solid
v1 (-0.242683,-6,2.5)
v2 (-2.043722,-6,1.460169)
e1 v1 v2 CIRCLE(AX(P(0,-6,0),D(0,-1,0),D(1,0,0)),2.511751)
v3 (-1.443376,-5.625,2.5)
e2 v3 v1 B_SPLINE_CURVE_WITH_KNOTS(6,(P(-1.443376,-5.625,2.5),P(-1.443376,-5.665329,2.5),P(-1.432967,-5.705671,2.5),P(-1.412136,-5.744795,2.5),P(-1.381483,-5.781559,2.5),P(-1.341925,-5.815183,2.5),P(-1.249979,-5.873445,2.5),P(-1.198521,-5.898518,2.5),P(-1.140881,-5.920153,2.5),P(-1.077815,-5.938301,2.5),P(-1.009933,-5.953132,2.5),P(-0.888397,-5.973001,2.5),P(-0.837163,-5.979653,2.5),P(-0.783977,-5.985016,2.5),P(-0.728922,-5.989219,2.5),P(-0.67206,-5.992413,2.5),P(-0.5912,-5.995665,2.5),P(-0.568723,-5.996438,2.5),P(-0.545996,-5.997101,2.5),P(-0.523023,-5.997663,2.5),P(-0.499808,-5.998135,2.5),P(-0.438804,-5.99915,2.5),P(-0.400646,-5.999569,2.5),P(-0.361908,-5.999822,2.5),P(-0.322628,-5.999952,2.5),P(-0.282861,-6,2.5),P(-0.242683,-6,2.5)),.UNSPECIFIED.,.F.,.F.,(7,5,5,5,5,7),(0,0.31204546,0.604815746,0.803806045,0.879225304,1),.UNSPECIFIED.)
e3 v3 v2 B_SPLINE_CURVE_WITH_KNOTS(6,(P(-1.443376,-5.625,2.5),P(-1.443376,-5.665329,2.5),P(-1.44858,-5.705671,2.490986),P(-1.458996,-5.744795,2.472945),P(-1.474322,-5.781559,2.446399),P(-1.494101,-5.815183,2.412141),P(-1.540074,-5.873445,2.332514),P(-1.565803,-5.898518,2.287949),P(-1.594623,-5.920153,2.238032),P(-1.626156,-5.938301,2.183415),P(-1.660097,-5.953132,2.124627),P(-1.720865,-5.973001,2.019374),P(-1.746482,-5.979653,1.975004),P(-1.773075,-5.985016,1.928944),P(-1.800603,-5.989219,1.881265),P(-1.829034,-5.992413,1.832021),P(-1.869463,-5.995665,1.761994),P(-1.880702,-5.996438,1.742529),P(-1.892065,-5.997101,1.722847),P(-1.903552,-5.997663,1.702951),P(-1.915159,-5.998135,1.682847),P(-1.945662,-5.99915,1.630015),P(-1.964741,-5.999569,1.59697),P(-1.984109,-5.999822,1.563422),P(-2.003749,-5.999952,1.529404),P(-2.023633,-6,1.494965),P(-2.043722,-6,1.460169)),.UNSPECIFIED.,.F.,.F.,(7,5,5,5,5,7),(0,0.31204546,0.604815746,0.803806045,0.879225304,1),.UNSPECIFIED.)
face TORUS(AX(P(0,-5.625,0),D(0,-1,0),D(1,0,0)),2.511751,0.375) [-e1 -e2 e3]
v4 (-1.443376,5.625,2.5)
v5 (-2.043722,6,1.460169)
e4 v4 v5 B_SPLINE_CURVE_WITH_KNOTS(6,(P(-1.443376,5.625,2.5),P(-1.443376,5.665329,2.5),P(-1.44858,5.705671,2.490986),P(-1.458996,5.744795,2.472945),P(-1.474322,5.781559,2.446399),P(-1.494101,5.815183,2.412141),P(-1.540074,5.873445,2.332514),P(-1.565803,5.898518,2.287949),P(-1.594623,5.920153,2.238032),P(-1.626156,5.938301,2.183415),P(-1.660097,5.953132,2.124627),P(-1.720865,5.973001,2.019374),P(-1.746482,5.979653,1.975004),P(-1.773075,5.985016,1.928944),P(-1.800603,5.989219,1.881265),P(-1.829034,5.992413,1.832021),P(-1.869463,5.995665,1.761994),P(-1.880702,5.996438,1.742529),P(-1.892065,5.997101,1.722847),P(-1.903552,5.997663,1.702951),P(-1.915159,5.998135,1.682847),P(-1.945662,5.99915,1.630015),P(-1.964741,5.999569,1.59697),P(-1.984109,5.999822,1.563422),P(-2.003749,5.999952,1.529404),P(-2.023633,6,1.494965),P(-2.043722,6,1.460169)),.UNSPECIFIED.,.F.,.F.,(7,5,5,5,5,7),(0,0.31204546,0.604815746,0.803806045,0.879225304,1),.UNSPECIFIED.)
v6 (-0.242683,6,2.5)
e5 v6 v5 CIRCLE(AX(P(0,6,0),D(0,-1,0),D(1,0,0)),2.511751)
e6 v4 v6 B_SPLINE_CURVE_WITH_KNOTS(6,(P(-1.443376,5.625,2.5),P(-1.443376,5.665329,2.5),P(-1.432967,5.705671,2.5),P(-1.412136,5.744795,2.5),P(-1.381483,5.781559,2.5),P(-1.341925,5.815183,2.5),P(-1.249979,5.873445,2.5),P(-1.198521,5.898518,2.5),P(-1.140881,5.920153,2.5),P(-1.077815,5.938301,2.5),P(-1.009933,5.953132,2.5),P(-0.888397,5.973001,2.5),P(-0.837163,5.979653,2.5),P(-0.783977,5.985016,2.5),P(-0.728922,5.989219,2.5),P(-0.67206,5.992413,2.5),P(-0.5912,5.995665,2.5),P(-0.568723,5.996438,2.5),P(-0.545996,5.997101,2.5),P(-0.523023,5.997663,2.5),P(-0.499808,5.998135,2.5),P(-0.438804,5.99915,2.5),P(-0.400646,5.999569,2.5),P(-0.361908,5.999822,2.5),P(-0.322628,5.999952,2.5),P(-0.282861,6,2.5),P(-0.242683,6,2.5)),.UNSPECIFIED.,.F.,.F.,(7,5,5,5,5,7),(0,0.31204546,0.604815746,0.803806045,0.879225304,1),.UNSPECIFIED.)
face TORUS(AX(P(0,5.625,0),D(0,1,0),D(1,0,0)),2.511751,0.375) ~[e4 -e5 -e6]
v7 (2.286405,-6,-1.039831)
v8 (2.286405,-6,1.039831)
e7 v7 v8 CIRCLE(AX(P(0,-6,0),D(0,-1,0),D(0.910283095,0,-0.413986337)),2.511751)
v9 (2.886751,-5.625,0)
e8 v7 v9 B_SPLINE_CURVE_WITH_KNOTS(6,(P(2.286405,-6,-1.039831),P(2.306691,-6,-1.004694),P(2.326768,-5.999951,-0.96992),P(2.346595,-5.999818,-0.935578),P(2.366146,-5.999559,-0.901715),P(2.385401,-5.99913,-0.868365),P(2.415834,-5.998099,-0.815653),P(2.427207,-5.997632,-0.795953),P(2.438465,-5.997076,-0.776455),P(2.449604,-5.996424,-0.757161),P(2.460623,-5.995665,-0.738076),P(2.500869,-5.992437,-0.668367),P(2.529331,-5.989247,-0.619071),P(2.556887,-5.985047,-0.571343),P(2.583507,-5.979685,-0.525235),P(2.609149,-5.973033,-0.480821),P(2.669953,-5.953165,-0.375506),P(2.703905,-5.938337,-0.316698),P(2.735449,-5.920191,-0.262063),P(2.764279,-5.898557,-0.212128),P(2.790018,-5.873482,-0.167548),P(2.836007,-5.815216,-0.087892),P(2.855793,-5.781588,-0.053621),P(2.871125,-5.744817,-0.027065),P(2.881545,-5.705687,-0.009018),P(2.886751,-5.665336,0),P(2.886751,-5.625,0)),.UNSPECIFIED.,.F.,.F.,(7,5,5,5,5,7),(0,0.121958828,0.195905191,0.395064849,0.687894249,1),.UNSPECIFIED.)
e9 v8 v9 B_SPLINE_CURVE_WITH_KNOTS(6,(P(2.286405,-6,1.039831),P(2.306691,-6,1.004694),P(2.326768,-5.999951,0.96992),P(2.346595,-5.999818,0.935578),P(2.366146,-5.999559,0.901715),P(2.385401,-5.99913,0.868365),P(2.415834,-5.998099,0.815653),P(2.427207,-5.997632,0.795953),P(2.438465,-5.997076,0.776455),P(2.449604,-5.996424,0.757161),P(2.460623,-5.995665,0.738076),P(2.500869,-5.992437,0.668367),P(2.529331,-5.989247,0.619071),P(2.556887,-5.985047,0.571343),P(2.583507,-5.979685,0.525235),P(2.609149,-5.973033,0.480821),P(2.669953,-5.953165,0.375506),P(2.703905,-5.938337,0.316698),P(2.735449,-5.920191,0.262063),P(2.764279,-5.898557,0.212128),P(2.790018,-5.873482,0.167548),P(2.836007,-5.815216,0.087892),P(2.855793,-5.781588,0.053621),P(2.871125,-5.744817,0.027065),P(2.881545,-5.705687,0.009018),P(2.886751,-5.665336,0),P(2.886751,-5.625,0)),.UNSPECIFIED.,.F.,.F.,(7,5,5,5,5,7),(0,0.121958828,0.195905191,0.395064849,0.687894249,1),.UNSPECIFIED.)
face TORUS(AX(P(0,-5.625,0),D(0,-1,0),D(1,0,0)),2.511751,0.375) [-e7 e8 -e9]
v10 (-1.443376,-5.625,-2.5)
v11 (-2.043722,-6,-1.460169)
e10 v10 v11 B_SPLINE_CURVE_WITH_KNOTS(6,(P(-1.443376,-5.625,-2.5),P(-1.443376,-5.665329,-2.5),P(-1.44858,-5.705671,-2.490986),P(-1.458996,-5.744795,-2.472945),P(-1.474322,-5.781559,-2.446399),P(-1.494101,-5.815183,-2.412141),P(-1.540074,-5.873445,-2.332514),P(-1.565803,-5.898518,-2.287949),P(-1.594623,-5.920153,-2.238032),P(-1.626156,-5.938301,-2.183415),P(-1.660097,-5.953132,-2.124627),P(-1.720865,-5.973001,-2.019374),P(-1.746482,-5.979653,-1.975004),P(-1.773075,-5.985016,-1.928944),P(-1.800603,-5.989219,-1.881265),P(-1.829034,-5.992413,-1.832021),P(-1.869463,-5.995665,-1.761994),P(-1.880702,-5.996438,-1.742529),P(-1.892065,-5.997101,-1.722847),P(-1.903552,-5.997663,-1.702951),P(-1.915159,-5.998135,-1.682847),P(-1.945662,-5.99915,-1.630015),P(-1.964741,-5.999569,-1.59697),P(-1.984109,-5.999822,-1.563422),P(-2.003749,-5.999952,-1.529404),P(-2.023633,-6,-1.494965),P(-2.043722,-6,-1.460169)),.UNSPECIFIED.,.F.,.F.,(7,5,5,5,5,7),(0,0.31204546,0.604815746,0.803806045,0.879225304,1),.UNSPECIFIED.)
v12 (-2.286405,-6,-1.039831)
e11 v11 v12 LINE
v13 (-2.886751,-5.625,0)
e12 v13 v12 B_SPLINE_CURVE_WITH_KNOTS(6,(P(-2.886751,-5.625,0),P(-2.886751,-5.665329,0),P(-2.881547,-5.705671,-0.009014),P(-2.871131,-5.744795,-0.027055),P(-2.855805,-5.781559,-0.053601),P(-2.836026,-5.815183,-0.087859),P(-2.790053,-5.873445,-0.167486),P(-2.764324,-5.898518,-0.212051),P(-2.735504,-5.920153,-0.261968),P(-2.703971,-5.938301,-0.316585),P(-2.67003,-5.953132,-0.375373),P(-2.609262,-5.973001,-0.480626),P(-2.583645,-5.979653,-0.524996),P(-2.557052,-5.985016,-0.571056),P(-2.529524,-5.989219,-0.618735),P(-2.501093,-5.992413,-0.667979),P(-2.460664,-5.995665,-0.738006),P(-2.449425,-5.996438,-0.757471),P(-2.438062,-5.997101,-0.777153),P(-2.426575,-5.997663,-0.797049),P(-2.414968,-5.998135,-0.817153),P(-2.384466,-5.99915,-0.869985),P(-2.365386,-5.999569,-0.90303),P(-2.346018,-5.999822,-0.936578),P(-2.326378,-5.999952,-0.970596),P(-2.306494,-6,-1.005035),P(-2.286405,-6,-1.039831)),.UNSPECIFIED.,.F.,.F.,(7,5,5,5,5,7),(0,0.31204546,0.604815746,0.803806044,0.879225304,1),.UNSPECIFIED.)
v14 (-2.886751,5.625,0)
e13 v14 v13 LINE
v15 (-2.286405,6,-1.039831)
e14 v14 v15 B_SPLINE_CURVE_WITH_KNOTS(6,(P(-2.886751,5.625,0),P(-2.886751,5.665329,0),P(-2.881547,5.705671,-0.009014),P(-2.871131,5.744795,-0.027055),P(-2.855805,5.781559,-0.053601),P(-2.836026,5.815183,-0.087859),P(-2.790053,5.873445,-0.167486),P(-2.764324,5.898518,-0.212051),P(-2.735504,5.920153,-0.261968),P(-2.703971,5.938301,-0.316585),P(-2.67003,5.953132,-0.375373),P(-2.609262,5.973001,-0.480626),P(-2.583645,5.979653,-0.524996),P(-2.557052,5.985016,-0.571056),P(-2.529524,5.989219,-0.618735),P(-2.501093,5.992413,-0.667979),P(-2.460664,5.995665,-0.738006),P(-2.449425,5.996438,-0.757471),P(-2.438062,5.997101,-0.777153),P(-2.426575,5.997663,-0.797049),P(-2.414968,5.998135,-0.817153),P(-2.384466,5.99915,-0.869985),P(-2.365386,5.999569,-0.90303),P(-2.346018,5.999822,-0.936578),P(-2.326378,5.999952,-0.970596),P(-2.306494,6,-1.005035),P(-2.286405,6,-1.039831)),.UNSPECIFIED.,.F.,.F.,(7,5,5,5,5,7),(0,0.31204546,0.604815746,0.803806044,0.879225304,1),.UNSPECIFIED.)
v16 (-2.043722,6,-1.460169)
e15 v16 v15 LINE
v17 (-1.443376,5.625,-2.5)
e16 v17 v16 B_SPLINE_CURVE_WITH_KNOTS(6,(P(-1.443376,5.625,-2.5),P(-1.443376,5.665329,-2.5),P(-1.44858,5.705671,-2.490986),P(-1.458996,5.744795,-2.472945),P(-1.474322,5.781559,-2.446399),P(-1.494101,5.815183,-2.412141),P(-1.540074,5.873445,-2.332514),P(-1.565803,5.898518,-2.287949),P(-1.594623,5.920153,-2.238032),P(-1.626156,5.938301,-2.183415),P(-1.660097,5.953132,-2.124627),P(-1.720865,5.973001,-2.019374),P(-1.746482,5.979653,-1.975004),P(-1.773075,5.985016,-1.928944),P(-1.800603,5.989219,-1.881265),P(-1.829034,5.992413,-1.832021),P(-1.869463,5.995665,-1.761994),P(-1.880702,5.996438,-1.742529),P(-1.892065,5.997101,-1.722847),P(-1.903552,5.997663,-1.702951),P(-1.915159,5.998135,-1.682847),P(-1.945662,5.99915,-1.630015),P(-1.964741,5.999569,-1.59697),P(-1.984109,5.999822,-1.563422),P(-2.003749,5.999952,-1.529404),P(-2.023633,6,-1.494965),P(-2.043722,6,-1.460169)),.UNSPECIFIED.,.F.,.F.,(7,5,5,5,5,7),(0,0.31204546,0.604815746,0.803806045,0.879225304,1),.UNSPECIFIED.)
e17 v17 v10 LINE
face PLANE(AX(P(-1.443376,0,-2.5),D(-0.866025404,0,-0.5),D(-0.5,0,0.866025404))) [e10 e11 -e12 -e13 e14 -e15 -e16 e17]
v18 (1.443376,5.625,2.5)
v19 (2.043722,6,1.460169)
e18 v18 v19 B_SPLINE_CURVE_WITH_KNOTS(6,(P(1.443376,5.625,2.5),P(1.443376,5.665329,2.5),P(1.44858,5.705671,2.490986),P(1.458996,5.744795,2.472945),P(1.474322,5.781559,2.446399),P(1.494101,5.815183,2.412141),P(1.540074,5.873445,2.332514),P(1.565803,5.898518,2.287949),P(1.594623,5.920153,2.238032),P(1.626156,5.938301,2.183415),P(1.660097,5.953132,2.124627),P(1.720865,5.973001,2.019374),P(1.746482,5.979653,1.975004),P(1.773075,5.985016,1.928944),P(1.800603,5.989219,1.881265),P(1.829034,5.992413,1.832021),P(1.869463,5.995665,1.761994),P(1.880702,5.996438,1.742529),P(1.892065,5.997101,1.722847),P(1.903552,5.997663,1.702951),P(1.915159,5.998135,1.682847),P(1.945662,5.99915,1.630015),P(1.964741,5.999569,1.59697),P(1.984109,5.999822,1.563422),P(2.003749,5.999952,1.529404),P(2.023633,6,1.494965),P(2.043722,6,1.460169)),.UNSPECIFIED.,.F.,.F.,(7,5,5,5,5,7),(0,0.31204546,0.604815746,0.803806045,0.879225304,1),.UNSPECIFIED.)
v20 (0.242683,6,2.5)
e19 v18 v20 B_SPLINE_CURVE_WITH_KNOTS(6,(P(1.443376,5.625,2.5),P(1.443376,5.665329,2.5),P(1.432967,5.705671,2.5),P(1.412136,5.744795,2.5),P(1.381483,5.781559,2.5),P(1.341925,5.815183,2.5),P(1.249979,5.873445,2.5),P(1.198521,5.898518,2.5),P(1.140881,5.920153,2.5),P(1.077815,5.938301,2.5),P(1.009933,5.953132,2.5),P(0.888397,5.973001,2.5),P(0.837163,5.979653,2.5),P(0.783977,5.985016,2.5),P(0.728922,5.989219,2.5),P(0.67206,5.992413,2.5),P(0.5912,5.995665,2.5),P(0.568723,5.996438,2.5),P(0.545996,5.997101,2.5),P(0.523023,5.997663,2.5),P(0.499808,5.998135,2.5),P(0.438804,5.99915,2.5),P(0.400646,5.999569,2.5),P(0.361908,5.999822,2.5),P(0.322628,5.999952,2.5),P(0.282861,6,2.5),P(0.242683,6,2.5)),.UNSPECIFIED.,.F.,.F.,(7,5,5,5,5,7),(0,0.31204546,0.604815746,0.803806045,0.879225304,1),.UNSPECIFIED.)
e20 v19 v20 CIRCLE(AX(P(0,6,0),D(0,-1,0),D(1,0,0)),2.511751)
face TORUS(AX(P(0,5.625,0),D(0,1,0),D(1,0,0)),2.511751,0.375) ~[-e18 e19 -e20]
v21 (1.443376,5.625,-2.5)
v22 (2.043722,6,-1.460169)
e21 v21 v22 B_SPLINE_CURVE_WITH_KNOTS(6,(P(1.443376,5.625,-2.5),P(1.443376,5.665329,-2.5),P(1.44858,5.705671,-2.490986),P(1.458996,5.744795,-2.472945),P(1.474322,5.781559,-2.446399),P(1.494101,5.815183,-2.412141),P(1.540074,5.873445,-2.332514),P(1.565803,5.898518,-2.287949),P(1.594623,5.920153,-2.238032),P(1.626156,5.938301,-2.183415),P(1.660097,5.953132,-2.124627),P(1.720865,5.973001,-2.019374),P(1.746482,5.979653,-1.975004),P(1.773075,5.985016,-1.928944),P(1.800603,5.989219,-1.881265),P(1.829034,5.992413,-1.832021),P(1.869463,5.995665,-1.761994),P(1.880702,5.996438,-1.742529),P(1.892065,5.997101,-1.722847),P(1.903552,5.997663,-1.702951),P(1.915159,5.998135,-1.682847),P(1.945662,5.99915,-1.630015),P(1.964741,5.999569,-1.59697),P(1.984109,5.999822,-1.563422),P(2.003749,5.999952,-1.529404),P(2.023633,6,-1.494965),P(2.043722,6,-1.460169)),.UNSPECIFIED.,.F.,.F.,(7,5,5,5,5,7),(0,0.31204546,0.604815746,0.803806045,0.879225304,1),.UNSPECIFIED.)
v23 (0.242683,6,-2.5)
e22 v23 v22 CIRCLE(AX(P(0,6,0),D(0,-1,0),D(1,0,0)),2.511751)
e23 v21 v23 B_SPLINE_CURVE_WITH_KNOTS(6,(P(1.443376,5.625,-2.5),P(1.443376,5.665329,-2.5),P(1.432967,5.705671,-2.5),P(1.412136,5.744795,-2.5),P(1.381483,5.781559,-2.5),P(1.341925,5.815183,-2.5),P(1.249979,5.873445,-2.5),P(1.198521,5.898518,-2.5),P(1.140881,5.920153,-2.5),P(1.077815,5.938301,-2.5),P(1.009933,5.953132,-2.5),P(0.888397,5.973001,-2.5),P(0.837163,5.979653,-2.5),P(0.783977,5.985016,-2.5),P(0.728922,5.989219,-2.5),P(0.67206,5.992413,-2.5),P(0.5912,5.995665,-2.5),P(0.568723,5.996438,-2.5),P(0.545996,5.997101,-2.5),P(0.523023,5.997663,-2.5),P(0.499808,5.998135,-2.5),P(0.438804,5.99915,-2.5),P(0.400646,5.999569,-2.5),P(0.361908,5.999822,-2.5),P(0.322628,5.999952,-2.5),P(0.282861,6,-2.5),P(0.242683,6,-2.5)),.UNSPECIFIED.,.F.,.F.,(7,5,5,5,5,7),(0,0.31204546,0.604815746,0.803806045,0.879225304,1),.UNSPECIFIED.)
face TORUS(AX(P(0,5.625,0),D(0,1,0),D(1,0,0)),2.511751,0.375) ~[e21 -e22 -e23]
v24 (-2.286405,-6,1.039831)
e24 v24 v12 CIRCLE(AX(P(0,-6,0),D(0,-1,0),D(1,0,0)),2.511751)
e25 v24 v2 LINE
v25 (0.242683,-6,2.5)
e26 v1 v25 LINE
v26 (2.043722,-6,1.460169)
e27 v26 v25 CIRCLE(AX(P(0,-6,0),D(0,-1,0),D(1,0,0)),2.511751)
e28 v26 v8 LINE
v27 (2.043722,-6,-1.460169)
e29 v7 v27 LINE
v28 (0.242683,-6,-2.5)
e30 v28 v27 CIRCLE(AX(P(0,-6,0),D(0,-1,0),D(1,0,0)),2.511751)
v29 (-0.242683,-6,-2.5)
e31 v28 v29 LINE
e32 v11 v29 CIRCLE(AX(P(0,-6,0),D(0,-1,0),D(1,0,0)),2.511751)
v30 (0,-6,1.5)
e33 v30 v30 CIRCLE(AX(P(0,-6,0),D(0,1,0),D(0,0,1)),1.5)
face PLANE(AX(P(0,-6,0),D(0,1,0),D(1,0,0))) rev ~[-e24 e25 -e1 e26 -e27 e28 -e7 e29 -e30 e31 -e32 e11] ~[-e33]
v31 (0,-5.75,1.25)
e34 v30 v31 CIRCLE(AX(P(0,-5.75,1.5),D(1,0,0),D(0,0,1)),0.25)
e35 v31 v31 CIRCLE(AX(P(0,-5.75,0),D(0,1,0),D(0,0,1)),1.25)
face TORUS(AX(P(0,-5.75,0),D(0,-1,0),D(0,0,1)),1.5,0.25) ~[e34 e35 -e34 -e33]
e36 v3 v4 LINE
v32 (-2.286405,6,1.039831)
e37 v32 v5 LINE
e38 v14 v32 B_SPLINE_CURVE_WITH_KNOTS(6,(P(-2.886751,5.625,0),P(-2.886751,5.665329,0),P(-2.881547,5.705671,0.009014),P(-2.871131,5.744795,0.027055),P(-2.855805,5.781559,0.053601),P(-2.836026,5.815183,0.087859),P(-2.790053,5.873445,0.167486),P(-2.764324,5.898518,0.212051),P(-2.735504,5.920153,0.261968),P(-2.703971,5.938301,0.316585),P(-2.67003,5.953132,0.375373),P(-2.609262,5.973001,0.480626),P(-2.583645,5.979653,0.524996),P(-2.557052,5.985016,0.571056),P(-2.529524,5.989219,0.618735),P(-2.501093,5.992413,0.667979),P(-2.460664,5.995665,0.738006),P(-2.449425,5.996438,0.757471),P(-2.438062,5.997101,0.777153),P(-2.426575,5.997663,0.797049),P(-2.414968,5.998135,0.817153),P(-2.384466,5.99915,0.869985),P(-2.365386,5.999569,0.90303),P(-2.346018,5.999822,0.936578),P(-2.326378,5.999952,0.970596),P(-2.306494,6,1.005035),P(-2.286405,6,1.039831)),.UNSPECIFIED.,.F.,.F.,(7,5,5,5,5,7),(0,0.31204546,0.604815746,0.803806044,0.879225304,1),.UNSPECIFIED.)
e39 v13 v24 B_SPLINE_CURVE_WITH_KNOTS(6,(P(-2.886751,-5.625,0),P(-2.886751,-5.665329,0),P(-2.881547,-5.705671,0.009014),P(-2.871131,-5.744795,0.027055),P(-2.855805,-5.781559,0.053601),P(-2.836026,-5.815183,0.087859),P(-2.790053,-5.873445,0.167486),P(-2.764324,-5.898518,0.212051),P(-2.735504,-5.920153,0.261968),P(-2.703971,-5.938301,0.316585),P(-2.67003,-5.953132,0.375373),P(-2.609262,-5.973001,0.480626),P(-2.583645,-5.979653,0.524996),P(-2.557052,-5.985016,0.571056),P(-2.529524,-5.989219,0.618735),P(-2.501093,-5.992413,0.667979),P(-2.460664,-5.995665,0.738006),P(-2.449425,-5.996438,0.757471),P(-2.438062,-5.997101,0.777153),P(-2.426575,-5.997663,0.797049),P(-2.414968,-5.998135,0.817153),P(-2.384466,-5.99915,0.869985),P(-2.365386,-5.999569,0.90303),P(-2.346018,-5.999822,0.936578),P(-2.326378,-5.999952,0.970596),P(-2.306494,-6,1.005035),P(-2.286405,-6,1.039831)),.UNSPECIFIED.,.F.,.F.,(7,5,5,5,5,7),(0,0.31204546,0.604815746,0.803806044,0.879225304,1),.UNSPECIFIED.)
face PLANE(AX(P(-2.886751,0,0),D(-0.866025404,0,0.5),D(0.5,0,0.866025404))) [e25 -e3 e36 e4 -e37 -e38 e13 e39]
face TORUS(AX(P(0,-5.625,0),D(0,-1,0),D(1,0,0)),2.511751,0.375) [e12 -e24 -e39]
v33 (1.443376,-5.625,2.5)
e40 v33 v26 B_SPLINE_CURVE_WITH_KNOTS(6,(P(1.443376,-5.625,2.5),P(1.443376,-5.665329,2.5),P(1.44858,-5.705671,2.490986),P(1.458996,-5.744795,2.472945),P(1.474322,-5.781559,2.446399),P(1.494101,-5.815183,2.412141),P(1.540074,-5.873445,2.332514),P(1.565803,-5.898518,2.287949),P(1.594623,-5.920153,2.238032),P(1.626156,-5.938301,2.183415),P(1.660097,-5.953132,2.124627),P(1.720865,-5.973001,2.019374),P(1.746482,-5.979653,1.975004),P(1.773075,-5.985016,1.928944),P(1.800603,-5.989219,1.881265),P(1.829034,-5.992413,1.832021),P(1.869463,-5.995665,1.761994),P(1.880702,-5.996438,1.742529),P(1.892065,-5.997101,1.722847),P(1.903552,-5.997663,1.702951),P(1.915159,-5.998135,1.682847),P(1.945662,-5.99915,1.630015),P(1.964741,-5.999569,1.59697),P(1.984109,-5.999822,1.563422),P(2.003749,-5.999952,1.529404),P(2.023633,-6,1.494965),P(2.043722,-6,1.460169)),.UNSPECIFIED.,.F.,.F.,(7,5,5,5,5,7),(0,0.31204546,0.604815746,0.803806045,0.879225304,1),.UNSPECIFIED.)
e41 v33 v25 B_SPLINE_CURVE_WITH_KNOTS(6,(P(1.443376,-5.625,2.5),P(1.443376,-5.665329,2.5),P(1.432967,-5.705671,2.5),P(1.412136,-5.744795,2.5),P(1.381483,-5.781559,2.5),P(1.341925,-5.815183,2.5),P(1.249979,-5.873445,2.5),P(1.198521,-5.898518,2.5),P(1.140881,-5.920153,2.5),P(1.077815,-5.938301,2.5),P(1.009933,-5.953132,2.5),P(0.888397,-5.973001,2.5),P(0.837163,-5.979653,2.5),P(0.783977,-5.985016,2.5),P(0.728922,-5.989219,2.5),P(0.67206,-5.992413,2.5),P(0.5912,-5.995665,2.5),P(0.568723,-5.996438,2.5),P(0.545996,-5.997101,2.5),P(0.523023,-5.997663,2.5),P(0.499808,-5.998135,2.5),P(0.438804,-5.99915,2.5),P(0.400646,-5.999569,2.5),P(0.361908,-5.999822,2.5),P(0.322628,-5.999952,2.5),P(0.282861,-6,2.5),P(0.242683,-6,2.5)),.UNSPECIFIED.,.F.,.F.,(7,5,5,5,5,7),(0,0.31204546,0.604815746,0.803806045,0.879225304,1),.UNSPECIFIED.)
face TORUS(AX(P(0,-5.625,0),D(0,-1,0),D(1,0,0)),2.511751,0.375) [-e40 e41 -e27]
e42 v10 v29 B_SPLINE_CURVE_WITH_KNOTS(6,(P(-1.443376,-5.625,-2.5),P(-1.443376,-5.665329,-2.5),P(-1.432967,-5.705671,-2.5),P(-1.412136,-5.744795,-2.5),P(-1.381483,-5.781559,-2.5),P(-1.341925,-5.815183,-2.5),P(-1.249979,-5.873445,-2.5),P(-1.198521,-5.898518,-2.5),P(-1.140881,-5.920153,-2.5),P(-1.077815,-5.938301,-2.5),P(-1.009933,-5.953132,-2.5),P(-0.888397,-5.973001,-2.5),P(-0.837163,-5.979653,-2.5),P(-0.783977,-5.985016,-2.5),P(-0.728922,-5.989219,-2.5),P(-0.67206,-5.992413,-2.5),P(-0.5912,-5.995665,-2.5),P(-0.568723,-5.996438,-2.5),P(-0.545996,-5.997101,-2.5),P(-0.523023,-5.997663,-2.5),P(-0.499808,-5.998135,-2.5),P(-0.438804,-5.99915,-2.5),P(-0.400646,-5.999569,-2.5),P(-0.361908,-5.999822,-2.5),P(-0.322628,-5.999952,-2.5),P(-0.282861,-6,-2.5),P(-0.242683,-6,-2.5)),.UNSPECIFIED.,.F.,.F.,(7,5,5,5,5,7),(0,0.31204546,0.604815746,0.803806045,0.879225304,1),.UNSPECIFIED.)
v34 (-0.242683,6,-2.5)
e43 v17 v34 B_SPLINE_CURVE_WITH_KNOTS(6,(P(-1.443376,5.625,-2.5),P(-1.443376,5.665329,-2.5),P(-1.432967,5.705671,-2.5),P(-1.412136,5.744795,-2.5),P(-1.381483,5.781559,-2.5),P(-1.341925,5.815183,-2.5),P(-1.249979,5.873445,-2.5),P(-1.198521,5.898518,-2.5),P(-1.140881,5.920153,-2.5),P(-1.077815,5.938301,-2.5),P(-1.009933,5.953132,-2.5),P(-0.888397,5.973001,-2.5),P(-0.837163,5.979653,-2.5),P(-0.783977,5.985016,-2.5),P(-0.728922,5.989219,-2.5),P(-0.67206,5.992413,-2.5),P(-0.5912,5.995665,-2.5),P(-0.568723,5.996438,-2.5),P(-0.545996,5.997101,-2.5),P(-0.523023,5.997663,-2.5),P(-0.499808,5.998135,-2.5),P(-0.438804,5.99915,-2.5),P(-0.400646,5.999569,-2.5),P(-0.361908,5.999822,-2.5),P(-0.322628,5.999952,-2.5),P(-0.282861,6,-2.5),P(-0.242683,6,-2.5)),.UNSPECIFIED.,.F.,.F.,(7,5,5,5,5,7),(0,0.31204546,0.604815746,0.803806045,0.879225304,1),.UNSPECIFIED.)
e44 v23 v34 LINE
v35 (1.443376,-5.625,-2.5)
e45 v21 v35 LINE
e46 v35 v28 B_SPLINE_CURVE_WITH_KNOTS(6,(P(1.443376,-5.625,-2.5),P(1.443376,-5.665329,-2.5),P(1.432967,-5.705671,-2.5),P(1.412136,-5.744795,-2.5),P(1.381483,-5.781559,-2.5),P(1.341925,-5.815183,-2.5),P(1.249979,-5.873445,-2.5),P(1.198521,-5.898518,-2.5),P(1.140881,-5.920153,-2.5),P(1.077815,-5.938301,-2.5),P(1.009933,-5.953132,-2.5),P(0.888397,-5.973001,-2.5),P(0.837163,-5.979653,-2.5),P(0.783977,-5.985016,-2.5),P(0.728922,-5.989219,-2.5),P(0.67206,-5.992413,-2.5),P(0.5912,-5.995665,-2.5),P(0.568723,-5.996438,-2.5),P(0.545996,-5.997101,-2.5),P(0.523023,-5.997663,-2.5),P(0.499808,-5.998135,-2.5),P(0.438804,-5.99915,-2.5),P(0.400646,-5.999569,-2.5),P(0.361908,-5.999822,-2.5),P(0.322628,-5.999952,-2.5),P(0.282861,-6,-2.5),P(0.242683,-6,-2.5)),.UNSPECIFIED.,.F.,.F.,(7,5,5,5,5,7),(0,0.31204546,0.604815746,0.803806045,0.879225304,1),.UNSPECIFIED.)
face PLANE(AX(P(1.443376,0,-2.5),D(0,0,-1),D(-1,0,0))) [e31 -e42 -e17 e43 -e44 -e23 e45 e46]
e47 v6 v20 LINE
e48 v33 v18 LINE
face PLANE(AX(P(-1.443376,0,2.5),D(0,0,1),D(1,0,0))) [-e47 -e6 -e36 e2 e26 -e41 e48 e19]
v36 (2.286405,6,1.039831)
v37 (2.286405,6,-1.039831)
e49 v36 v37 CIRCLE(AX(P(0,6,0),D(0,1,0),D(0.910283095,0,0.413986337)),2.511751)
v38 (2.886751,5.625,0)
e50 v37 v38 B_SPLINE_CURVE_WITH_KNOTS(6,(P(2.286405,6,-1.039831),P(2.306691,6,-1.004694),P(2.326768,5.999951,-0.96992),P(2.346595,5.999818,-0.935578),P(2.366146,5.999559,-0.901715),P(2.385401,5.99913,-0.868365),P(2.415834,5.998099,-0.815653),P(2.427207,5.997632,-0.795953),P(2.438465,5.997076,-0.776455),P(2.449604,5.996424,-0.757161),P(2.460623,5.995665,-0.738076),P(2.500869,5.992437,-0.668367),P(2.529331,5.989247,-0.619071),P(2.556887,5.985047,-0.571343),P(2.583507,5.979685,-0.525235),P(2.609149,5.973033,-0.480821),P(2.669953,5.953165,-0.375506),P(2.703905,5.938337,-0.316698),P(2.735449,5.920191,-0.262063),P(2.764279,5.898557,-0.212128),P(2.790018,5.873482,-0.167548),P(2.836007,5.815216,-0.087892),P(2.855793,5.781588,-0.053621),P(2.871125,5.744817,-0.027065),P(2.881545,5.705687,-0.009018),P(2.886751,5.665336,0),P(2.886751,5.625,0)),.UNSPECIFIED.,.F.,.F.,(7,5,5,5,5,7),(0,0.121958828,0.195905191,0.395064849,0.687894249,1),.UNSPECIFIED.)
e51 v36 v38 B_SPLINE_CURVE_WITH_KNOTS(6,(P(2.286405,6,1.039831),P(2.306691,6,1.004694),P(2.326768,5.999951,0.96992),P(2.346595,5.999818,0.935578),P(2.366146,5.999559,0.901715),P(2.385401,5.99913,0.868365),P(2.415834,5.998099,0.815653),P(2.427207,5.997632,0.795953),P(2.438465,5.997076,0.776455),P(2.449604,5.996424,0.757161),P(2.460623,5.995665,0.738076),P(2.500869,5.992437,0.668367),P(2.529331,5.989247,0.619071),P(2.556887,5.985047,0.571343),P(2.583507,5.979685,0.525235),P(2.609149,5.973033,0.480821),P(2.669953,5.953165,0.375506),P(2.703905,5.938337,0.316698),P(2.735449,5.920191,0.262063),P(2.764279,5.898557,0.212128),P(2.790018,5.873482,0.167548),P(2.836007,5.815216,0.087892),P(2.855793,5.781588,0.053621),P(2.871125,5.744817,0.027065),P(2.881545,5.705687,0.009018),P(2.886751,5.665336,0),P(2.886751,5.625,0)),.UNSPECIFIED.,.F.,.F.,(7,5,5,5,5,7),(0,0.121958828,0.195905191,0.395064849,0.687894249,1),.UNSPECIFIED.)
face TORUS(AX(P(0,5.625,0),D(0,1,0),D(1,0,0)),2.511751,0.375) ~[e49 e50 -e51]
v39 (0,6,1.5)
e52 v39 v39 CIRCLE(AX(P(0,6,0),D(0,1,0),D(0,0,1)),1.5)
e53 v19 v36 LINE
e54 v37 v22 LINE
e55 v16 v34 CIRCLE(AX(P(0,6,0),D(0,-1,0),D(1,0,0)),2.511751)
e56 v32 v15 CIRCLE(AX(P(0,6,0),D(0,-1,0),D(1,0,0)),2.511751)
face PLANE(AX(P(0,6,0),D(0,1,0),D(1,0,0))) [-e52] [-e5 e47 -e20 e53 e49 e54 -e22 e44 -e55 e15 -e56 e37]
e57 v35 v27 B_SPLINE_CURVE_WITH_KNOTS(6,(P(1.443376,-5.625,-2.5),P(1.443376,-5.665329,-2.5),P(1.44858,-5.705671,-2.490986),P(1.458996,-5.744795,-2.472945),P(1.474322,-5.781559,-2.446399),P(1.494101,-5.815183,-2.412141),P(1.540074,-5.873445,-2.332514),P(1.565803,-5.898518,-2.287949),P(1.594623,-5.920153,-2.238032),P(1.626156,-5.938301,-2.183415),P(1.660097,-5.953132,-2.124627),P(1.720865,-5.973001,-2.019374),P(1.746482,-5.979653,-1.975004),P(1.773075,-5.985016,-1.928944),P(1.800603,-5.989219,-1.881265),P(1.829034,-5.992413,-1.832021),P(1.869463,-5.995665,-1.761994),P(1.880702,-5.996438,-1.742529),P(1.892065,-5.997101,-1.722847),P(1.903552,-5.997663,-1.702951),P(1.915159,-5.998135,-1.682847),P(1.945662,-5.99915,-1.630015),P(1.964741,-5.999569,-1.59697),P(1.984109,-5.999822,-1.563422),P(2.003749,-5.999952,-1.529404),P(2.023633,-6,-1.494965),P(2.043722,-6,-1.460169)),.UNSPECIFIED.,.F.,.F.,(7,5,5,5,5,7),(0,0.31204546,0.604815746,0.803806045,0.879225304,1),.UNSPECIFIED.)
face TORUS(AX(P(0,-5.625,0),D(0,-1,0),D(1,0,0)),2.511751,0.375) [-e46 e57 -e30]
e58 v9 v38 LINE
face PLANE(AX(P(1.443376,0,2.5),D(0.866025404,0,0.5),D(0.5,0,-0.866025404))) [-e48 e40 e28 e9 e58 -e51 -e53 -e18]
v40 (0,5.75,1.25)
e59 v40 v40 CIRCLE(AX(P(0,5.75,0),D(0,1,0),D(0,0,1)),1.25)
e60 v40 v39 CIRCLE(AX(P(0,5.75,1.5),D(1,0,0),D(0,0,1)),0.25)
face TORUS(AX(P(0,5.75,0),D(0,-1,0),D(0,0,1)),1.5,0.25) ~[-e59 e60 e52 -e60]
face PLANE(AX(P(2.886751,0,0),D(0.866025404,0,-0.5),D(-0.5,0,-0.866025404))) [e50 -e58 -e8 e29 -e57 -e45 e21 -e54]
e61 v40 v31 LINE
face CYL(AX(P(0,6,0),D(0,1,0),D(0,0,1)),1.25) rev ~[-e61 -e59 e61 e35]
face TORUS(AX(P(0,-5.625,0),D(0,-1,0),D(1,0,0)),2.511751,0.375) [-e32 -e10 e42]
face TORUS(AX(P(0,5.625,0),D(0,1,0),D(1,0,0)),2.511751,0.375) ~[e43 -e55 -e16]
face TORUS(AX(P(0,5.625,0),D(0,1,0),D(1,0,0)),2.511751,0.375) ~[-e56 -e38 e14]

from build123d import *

# Parameters (mm, degrees)
BOSS_EXTRUDE1_DEPTH = 6
SKETCH2_R           = 1.25
CUT_EXTRUDE1_DEPTH  = 12
FILLET1_R           = 0.25


with BuildPart() as part:
    # Sketch1 → Boss-Extrude1 (new, symmetric)
    with BuildSketch(Plane(origin=(0, 0, 0), x_dir=(1, 0, 0), z_dir=(0, 1, 0))):
        Polygon((-2.886751346, 0), (-1.443375673, -2.5), (1.443375673, -2.5), (2.886751346, 0), (1.443375673, 2.5), (-1.443375673, 2.5), align=None)
    extrude(amount=BOSS_EXTRUDE1_DEPTH, both=True)

    # Sketch2 → Cut-Extrude1 (cut)
    with BuildSketch(Plane(origin=(0, 6, 0), x_dir=(1, 0, 0), z_dir=(0, 1, 0))):
        with Locations(Location((0, 0, 0), (0, 0, 270))):
            Circle(SKETCH2_R)
    extrude(amount=-CUT_EXTRUDE1_DEPTH, mode=Mode.SUBTRACT)

    # Sketch3 → Cut-Revolve1 (revolve, cut)
    with BuildSketch(Plane.XY):
        with BuildLine():
            Line((2.511751346, 6), (2.886751346, 6))
            Line((2.886751346, 6), (2.886751346, 5.625))
            ThreePointArc((2.886751346, 5.625), (2.776916389, 5.890165043), (2.511751346, 6))
        make_face()
        with BuildLine():
            Line((2.886751346, -6), (2.886751346, -5.625))
            ThreePointArc((2.886751346, -5.625), (2.776916389, -5.890165043), (2.511751346, -6))
            Line((2.511751346, -6), (2.886751346, -6))
        make_face()
    revolve(axis=Axis((0, 5.721589011, 0), (0, -1, 0)), mode=Mode.SUBTRACT)

    # Fillet1
    fillet1_edges = [part.edges().sort_by_distance(p)[0] for p in [
        (0, 6, -1.25),
        (0, -6, -1.25),
    ]]
    fillet(fillet1_edges, radius=FILLET1_R)


solid = part.part
